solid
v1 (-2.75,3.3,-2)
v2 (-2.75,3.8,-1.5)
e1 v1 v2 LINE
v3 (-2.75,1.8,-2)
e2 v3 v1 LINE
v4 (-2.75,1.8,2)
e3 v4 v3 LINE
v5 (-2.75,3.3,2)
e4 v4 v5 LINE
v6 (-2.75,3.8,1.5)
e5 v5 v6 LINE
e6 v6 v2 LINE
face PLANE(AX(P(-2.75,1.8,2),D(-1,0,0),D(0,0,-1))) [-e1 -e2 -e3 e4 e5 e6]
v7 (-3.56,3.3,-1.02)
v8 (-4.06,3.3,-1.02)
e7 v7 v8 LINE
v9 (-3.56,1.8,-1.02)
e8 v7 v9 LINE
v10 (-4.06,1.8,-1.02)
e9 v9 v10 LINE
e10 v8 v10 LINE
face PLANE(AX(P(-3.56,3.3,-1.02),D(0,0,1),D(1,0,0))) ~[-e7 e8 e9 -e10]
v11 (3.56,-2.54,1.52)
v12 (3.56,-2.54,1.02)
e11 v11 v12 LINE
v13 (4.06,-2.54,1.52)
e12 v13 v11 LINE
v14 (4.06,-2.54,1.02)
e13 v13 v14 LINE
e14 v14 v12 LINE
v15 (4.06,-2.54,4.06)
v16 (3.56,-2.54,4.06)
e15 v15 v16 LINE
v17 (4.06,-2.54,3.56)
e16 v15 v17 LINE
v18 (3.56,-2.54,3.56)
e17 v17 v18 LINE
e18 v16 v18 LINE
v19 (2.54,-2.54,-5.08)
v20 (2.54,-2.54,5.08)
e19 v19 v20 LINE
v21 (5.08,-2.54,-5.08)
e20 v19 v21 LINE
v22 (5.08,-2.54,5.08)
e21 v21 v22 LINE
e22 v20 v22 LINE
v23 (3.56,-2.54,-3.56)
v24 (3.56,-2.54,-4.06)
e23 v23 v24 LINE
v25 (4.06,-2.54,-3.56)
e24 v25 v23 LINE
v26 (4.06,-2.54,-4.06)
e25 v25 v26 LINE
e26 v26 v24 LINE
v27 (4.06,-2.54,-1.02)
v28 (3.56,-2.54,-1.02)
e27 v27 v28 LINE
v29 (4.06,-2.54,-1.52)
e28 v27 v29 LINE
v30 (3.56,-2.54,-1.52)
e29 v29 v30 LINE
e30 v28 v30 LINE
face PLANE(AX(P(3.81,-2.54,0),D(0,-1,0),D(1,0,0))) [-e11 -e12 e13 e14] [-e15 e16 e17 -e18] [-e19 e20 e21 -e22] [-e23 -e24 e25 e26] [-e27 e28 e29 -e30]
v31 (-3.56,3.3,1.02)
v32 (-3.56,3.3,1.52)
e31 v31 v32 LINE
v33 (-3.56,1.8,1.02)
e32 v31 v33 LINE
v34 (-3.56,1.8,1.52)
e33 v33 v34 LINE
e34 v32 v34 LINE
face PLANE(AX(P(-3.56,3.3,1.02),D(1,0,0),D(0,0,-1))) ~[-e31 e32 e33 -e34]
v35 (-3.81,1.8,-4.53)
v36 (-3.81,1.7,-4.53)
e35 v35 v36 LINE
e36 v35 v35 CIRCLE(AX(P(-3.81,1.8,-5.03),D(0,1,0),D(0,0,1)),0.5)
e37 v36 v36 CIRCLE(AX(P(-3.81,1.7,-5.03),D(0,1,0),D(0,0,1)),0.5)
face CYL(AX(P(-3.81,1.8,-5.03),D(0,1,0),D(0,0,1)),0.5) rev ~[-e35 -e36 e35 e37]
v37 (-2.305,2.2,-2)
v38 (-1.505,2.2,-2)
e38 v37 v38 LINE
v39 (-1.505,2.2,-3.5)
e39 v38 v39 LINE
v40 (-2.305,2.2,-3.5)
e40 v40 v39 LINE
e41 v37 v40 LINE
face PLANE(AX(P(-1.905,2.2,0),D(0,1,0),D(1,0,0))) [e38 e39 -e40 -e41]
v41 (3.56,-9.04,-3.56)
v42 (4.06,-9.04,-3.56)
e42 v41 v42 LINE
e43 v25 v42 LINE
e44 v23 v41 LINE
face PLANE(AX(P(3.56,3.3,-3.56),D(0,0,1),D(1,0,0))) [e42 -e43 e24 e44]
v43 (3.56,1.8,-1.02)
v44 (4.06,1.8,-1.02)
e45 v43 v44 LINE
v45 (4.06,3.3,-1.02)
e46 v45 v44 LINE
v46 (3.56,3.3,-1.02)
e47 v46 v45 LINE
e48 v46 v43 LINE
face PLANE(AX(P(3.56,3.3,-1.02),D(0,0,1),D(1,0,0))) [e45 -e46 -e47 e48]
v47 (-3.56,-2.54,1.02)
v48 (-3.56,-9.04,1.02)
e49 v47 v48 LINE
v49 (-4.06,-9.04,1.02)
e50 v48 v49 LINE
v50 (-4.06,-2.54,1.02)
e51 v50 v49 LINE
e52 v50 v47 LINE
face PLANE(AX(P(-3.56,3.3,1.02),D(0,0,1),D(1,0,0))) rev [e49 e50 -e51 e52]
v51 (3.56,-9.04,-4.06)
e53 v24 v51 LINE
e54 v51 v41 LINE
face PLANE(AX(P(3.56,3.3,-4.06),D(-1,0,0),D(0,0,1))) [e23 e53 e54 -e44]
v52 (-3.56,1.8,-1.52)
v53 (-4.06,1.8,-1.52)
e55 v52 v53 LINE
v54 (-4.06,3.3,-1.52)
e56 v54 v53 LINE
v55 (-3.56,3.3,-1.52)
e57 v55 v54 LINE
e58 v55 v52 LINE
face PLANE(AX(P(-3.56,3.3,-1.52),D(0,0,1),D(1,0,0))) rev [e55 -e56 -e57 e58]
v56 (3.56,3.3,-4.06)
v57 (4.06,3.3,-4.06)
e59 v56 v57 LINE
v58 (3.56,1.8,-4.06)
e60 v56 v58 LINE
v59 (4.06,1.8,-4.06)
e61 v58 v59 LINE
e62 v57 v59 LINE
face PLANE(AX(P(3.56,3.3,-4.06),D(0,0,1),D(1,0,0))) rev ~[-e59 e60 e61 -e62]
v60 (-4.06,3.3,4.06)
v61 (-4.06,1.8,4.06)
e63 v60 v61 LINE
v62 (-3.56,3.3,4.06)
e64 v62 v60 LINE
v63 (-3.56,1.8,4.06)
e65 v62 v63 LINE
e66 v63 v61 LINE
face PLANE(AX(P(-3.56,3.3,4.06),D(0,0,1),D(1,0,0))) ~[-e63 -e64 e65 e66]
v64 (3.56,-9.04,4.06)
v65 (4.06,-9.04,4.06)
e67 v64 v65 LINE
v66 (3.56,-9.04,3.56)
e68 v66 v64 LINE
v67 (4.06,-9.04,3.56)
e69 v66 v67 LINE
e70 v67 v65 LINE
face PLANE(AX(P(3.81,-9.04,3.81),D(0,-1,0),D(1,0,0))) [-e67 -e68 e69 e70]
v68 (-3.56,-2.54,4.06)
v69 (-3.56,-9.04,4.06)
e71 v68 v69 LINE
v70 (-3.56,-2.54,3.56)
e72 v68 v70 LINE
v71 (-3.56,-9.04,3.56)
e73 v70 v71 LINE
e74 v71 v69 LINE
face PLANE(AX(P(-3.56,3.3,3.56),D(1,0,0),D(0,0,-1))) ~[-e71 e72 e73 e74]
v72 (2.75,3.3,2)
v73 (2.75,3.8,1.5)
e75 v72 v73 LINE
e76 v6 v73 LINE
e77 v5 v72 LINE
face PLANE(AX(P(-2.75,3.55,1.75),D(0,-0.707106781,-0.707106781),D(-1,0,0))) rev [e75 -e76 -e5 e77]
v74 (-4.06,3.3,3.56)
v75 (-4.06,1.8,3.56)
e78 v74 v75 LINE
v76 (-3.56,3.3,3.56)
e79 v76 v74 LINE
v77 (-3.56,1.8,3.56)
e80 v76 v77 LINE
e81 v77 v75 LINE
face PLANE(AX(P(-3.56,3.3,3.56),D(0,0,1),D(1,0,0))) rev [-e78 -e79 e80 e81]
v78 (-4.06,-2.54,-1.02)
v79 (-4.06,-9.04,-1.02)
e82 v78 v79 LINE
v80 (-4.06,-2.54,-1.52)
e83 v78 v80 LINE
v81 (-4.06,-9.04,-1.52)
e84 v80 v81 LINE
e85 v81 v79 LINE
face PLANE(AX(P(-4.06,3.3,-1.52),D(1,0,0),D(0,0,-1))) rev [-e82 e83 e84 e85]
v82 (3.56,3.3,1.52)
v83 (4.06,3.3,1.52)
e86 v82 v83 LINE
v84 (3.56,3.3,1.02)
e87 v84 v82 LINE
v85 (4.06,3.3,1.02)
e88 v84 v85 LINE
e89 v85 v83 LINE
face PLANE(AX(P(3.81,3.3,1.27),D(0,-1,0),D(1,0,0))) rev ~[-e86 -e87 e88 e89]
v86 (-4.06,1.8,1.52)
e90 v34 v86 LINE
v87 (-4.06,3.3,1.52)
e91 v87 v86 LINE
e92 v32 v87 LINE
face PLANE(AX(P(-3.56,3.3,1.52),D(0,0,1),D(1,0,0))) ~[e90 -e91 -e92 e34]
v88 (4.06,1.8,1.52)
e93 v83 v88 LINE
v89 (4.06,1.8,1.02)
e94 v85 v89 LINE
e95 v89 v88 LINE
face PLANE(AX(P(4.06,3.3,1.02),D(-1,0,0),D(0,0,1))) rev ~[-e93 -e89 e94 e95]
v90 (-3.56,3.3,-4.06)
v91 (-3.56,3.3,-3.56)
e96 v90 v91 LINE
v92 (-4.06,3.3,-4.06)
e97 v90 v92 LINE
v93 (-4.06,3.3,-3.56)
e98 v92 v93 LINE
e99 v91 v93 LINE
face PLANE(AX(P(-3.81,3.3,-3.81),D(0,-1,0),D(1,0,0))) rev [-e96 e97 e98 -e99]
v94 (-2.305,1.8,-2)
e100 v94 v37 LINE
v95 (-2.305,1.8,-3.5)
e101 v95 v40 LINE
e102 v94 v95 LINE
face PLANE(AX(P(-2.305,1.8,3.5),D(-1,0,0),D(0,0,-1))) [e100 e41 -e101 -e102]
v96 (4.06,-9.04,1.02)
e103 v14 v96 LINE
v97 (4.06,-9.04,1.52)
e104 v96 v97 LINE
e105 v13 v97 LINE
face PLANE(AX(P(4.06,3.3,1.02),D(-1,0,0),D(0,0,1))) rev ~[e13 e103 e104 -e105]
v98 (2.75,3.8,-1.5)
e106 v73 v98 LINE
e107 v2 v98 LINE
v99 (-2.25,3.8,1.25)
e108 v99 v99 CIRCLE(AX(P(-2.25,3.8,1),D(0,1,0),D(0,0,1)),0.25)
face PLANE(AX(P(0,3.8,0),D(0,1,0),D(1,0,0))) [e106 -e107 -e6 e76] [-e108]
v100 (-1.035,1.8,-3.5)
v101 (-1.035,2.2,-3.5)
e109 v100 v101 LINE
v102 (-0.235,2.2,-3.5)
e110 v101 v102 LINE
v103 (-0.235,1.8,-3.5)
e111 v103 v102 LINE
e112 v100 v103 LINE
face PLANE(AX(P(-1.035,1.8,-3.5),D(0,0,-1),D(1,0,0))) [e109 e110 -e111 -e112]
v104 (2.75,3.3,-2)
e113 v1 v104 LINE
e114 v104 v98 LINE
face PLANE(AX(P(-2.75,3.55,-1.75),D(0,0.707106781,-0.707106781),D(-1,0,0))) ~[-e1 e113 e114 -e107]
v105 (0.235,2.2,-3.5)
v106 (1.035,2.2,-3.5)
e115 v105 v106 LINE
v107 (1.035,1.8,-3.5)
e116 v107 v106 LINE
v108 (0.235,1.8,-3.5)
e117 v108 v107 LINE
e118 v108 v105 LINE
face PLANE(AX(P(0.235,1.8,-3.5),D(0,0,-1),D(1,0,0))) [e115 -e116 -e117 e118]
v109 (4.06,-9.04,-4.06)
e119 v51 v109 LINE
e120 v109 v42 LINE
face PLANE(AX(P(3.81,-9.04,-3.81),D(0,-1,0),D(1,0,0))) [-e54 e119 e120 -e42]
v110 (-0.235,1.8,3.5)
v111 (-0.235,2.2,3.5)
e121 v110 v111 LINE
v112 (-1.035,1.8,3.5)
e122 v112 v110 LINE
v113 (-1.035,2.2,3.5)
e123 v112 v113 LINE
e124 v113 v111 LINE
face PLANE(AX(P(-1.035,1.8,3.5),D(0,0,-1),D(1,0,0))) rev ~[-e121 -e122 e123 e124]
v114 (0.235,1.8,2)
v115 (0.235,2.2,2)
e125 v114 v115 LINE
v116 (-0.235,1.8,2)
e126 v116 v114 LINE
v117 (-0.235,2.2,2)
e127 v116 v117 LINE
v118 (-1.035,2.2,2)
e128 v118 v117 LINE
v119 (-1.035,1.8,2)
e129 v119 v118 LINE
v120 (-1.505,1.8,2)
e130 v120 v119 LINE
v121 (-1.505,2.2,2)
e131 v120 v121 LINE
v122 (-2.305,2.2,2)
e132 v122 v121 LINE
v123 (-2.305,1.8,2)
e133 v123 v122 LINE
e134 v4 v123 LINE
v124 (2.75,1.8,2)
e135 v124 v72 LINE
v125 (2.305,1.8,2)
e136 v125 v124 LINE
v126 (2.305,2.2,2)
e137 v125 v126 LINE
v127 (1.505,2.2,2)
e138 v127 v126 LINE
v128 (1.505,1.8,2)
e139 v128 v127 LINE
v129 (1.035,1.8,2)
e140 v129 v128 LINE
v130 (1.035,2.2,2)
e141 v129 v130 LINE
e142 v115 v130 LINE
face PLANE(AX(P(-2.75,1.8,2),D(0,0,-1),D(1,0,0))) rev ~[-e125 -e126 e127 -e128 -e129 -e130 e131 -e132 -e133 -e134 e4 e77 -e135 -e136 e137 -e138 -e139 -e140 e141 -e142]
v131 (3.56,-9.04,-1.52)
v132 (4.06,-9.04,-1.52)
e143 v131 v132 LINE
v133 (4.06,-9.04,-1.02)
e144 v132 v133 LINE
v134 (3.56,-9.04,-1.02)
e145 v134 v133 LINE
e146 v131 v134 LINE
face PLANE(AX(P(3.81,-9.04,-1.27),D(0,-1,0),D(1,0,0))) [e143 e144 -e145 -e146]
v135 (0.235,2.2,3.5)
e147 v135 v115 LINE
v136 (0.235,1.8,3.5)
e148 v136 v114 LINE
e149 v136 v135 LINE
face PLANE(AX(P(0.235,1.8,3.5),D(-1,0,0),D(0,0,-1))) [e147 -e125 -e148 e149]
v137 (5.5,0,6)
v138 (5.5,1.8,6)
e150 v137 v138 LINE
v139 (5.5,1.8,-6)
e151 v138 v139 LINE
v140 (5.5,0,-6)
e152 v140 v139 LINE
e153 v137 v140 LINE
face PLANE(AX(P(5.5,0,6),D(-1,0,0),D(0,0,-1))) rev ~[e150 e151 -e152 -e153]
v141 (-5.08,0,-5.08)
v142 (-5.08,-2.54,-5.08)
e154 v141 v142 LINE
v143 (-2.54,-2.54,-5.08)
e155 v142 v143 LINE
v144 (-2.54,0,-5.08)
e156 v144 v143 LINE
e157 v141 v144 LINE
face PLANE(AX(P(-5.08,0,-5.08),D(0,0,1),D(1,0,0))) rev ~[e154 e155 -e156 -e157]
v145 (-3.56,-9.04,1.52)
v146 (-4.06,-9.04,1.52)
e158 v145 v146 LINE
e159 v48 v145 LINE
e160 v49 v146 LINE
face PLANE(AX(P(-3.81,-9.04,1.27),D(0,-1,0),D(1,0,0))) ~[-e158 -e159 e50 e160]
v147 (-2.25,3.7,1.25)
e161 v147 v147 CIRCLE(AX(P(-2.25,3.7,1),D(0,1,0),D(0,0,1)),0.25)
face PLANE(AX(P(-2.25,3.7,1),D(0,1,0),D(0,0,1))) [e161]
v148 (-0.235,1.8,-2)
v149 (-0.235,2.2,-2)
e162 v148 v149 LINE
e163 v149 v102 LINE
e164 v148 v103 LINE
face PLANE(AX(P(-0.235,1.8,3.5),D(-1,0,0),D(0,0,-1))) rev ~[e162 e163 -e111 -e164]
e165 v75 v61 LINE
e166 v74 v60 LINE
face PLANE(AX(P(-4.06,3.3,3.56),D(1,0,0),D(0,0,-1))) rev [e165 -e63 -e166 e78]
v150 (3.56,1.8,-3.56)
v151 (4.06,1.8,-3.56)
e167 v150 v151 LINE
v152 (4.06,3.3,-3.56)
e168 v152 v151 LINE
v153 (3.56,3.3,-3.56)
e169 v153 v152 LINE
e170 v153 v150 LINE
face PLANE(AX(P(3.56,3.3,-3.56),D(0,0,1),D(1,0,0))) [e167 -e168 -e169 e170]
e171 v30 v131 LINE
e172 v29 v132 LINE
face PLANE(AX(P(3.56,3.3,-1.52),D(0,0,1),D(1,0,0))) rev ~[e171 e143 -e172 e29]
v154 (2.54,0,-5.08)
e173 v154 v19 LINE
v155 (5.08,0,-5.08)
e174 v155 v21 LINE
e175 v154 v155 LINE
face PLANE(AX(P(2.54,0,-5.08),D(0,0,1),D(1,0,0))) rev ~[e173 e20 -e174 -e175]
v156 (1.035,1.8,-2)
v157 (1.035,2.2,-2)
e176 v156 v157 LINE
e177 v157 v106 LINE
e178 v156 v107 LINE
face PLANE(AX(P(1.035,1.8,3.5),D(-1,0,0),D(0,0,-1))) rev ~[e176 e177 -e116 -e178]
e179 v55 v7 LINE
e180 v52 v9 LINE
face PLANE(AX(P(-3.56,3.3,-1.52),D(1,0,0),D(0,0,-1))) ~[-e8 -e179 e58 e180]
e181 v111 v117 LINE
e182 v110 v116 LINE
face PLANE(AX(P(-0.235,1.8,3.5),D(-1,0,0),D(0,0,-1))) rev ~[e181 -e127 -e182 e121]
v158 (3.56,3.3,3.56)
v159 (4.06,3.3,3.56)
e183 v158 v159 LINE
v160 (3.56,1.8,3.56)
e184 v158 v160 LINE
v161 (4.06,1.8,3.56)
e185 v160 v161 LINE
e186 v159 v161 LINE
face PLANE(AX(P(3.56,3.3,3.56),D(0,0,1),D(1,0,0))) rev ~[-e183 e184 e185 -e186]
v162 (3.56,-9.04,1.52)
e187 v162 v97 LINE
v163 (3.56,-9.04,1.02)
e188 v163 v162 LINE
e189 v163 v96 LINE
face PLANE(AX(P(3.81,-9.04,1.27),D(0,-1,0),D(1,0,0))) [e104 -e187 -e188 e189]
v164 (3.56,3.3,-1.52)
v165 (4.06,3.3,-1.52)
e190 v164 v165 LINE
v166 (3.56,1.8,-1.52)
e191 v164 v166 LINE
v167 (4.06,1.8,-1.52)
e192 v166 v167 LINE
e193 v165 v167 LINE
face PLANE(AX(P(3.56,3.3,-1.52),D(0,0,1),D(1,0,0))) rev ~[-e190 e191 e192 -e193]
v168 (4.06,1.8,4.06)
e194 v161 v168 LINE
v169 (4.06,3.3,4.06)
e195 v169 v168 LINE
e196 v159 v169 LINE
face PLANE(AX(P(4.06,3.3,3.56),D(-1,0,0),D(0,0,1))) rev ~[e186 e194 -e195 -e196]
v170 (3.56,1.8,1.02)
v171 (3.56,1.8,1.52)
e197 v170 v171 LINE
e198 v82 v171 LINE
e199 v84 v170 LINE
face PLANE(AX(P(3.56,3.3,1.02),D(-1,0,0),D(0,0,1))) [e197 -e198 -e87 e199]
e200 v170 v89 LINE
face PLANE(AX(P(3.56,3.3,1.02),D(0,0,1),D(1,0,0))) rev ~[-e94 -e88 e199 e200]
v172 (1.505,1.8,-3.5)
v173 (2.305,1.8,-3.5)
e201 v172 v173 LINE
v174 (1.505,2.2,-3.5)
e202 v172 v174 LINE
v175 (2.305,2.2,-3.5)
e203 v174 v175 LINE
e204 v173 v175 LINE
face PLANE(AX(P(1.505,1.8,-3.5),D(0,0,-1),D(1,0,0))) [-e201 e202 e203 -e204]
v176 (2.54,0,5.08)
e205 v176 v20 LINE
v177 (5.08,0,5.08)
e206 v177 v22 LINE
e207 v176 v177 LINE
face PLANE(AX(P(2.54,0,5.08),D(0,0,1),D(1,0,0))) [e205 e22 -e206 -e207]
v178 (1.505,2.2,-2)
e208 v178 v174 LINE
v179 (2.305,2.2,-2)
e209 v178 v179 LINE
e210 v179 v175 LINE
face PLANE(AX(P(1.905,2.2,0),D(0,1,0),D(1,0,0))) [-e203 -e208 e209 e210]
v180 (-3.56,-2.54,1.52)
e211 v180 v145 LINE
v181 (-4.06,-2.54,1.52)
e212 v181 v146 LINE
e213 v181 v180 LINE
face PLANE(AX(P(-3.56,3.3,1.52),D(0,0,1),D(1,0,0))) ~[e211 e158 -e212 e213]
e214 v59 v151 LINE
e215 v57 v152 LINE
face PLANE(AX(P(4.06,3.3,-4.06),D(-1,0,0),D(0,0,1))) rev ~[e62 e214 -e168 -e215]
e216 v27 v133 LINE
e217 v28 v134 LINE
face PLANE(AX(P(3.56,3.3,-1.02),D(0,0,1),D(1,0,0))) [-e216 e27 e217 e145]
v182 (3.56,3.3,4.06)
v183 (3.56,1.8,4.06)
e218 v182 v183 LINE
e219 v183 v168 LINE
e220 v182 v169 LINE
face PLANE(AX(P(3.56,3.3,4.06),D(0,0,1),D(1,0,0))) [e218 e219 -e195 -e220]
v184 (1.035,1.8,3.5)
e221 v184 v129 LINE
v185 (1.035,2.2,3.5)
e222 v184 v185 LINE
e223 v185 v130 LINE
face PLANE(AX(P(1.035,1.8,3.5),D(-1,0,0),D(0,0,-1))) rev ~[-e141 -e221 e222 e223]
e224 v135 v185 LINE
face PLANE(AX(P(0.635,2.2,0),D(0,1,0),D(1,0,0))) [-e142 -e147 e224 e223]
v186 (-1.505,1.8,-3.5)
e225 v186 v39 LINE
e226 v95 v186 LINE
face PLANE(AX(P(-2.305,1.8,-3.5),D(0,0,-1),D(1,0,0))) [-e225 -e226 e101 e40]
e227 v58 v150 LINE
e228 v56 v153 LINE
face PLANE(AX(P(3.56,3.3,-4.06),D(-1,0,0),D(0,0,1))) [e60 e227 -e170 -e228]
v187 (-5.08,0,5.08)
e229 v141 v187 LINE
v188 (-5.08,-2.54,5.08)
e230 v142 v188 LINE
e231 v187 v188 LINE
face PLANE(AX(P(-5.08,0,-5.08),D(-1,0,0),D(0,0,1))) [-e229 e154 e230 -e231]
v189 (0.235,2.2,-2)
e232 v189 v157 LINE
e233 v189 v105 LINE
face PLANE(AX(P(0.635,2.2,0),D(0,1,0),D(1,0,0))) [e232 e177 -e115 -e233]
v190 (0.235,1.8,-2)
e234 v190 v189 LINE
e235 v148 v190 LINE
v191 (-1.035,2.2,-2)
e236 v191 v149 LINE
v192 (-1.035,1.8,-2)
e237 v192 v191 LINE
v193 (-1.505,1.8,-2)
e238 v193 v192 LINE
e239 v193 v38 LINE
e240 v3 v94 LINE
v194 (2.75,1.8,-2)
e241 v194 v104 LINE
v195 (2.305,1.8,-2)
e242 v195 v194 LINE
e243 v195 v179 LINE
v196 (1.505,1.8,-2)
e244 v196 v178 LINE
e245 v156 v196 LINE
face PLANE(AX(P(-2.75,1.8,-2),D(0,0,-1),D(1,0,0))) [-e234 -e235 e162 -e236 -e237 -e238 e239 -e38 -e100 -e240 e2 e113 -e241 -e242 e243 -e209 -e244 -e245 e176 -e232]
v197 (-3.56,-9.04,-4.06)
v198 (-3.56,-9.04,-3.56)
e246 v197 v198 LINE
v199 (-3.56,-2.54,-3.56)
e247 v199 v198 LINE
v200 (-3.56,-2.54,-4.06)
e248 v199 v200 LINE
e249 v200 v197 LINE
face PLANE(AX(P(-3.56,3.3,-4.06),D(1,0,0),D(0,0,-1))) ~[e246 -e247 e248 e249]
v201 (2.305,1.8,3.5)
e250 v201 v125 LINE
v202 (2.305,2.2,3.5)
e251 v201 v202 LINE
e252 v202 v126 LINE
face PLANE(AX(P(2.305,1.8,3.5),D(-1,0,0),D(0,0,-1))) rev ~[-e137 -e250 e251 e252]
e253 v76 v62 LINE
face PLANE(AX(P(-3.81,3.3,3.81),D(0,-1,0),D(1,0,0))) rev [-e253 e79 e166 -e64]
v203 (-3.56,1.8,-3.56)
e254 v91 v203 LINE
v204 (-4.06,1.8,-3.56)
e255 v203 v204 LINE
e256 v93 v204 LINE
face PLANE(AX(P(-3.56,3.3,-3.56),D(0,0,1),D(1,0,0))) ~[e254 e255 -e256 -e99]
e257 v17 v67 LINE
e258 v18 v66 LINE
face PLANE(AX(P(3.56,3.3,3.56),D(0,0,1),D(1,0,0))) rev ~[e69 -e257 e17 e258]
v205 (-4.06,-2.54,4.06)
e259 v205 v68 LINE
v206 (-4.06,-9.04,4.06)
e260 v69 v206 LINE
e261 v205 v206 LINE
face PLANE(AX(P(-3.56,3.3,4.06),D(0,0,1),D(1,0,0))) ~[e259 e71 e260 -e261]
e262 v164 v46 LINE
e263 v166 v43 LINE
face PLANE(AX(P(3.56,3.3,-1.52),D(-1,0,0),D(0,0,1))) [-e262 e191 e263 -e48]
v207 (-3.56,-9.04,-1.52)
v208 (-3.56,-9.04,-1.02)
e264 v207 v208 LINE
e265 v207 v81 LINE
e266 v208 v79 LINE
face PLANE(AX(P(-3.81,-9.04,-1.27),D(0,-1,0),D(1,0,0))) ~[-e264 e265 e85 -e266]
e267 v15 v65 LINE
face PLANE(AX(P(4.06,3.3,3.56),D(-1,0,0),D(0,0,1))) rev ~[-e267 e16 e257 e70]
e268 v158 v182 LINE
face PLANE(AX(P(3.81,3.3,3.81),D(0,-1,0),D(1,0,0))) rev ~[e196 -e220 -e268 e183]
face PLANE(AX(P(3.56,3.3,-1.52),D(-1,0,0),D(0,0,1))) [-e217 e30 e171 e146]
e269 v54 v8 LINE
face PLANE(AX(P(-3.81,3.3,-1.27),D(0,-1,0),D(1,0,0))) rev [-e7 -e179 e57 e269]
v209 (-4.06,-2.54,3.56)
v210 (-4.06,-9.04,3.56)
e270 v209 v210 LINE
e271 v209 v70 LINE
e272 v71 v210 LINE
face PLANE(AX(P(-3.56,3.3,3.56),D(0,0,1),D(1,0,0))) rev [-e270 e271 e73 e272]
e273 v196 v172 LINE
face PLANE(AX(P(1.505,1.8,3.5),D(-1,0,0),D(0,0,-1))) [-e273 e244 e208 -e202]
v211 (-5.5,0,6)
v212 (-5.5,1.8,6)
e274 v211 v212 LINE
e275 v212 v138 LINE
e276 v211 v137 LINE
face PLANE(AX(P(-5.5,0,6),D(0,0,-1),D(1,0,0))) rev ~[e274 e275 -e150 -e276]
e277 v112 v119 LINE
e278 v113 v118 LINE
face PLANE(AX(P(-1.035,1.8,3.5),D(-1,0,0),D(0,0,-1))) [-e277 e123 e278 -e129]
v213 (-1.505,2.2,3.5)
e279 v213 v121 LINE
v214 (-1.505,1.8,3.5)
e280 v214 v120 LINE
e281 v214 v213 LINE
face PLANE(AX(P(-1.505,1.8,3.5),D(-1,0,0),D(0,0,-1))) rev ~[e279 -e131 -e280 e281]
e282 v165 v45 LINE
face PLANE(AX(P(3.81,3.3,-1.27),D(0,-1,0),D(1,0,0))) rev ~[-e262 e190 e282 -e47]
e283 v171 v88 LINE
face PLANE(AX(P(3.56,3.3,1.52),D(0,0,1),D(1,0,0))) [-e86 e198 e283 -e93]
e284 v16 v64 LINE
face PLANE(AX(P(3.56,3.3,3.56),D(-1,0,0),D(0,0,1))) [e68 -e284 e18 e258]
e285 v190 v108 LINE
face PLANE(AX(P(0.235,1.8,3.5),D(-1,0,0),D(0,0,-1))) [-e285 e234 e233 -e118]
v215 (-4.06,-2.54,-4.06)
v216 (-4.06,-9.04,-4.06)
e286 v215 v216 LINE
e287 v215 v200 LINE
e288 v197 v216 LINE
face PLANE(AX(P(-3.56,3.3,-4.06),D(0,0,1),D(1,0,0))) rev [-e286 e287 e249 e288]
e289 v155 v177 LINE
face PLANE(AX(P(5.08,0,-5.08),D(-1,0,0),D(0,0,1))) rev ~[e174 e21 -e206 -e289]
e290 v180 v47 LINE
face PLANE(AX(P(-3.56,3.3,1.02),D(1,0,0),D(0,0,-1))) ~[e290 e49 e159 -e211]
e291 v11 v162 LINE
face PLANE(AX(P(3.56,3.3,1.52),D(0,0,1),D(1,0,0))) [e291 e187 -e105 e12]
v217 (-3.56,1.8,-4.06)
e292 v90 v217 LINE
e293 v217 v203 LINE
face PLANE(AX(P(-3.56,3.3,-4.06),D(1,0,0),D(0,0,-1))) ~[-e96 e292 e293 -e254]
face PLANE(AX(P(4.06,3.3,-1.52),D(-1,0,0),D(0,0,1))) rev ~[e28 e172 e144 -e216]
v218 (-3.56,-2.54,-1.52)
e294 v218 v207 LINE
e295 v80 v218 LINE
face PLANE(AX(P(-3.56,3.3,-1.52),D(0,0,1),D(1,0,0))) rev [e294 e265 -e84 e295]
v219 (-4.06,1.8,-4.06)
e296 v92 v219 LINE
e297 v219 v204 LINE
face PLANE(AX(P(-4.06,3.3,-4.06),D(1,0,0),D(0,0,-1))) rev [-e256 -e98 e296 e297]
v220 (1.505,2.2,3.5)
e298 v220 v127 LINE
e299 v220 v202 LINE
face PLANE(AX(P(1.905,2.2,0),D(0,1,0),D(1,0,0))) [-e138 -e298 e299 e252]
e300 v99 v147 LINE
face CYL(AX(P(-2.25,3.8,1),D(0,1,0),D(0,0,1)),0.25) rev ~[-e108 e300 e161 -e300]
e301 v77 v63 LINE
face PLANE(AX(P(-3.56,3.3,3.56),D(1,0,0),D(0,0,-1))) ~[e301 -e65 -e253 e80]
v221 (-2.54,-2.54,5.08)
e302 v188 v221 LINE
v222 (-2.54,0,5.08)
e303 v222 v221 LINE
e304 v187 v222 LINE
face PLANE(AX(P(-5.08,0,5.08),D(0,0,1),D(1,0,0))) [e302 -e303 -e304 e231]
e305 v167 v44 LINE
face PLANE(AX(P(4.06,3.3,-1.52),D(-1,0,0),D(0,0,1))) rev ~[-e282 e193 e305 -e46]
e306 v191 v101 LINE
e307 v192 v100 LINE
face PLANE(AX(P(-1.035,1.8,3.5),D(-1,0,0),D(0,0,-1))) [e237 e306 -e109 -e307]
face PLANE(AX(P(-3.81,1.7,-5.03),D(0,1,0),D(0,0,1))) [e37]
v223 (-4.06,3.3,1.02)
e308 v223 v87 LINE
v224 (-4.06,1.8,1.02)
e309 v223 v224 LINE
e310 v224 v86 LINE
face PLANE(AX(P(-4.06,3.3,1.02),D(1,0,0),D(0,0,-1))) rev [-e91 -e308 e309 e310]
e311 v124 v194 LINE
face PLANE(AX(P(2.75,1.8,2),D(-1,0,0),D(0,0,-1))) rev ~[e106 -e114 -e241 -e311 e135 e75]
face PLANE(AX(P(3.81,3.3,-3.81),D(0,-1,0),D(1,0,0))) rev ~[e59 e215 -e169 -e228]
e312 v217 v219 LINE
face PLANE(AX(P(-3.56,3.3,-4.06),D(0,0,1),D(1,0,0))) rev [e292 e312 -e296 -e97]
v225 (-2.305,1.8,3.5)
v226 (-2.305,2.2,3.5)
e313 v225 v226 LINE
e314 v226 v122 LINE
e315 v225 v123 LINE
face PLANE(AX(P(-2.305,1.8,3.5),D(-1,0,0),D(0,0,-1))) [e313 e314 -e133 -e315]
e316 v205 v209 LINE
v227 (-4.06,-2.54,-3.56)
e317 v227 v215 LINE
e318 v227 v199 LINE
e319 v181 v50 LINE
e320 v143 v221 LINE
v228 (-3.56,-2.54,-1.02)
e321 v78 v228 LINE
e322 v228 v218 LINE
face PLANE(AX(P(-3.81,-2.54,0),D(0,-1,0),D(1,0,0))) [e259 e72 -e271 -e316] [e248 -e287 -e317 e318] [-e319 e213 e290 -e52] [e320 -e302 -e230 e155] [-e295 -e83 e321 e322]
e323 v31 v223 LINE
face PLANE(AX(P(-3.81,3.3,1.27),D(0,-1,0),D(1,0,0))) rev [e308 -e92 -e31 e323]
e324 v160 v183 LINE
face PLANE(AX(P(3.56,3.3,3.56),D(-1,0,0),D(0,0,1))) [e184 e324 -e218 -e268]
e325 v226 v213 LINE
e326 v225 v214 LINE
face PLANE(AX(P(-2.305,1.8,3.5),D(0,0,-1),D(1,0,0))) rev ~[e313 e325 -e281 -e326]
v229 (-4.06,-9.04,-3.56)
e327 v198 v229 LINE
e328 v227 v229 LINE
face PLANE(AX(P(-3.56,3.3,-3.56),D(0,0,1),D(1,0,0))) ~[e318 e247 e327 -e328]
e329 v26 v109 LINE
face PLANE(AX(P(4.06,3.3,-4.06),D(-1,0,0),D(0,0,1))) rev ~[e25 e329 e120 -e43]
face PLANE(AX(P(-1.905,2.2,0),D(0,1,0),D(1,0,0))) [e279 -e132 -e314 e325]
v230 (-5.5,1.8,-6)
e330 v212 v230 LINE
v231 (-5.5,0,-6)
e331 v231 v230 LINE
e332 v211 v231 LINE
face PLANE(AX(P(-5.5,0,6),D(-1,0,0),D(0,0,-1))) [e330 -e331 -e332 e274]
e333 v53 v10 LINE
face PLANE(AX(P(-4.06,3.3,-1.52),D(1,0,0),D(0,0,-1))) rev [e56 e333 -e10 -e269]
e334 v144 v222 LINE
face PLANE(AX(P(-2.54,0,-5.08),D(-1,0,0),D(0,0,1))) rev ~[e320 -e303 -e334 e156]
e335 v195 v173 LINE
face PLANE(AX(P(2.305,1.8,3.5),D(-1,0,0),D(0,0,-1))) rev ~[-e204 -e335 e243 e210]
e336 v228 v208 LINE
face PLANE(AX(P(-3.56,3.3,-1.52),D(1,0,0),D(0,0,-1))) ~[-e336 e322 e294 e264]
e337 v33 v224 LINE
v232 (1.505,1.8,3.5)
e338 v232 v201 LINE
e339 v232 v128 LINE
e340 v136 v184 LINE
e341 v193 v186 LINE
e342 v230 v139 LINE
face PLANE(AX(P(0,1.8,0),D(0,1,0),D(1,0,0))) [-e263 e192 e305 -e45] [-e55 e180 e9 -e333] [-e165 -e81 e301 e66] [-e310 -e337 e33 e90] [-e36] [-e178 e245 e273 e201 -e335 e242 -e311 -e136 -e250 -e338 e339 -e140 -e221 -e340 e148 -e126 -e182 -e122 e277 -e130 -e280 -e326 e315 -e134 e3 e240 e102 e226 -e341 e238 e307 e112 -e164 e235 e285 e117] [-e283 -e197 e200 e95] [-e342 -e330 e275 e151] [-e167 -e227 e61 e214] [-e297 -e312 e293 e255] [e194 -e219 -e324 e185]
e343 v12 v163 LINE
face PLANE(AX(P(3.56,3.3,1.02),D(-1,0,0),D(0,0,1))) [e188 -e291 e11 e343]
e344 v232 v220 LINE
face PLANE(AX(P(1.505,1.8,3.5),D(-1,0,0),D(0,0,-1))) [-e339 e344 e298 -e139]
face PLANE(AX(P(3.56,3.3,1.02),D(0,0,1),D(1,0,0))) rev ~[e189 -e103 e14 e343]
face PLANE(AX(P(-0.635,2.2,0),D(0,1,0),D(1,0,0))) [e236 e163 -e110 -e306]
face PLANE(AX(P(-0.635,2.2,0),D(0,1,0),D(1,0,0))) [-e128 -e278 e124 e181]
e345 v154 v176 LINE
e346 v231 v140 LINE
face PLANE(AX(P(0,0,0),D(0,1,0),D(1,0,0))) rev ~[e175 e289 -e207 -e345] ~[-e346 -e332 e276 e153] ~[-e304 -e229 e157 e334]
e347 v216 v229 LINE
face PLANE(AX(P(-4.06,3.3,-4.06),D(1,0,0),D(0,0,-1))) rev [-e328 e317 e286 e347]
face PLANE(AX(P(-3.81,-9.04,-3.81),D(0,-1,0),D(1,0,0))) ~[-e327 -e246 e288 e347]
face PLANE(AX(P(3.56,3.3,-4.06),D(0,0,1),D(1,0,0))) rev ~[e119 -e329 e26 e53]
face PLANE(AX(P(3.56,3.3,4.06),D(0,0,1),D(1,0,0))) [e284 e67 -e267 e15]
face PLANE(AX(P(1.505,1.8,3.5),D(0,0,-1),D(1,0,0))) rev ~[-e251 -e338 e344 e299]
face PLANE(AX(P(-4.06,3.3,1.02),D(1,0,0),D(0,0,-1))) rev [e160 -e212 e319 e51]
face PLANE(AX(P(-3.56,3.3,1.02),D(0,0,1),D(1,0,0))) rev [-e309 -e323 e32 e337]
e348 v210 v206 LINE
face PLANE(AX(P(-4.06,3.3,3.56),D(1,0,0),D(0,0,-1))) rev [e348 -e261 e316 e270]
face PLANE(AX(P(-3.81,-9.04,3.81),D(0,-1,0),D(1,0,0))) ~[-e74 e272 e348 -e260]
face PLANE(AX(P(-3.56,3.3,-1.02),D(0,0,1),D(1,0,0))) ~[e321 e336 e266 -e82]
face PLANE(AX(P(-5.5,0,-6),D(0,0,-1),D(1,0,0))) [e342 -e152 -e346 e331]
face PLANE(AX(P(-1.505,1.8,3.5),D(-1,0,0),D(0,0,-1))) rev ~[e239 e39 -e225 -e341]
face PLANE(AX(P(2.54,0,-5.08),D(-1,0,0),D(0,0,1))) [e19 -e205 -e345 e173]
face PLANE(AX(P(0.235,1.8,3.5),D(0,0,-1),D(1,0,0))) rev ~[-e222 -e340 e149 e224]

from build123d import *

# Parameters (mm, degrees)
SKETCH1_W           = 11
SKETCH1_H           = 12
BOSS_EXTRUDE1_DEPTH = 1.8
SKETCH2_W           = 2.54
SKETCH2_H           = 10.16
BOSS_EXTRUDE2_DEPTH = 2.54
BOSS_EXTRUDE3_START = -5.84
SKETCH3_W           = 0.5
SKETCH3_H           = 0.5
BOSS_EXTRUDE3_DEPTH = 12.34
SKETCH4_W           = 5.5
SKETCH4_H           = 4
BOSS_EXTRUDE4_DEPTH = 2
CHAMFER1_SIZE       = 0.5
SKETCH5_W           = 0.8
SKETCH5_H           = 7
BOSS_EXTRUDE5_DEPTH = 0.4
SKETCH6_R           = 0.5
CUT_EXTRUDE1_DEPTH  = 0.1
SKETCH7_R           = 0.25
CUT_EXTRUDE2_DEPTH  = 0.1


with BuildPart() as part:
    # Sketch1 → Boss-Extrude1 (new body)
    with BuildSketch(Plane(origin=(0, 0, 0), x_dir=(1, 0, 0), z_dir=(0, 1, 0))):
        Rectangle(SKETCH1_W, SKETCH1_H)
    extrude(amount=BOSS_EXTRUDE1_DEPTH)

    # Sketch2 → Boss-Extrude2 (add)
    with BuildSketch(Plane.XZ):
        with Locations((-3.81, 0)):
            Rectangle(SKETCH2_W, SKETCH2_H)
        with Locations((3.81, 0)):
            Rectangle(SKETCH2_W, SKETCH2_H)
    extrude(amount=BOSS_EXTRUDE2_DEPTH)

    # Sketch3 → Boss-Extrude3 (add)
    with BuildSketch(Plane.XZ.offset(2.54).offset(BOSS_EXTRUDE3_START)):
        with Locations((3.81, 1.27)):
            Rectangle(SKETCH3_W, SKETCH3_H)
        with Locations((3.81, 3.81)):
            Rectangle(SKETCH3_W, SKETCH3_H)
        with Locations((3.81, -1.27)):
            Rectangle(SKETCH3_W, SKETCH3_H)
        with Locations((3.81, -3.81)):
            Rectangle(SKETCH3_W, SKETCH3_H)
    boss_extrude3 = extrude(amount=BOSS_EXTRUDE3_DEPTH)

    # Mirror1: Boss-Extrude3 across plane
    add(boss_extrude3.mirror(Plane(origin=(0, 0, 0), x_dir=(0, 0, 1), z_dir=(1, 0, 0))))

    # Sketch4 → Boss-Extrude4 (add)
    with BuildSketch(Plane(origin=(0, 1.8, 0), x_dir=(1, 0, 0), z_dir=(0, 1, 0))):
        Rectangle(SKETCH4_W, SKETCH4_H)
    extrude(amount=BOSS_EXTRUDE4_DEPTH)

    # Chamfer1
    chamfer1_edges = [part.edges().sort_by_distance(p)[0] for p in [
        (0, 3.8, -2),
        (0, 3.8, 2),
    ]]
    chamfer(chamfer1_edges, length=CHAMFER1_SIZE)

    # Sketch5 → Boss-Extrude5 (add)
    with BuildSketch(Plane(origin=(0, 1.8, 0), x_dir=(1, 0, 0), z_dir=(0, 1, 0))):
        with Locations((-0.635, 0)):
            Rectangle(SKETCH5_W, SKETCH5_H)
        with Locations((-1.905, 0)):
            Rectangle(SKETCH5_W, SKETCH5_H)
        with Locations((0.635, 0)):
            Rectangle(SKETCH5_W, SKETCH5_H)
        with Locations((1.905, 0)):
            Rectangle(SKETCH5_W, SKETCH5_H)
    extrude(amount=BOSS_EXTRUDE5_DEPTH)

    # Sketch6 → Cut-Extrude1 (cut)
    with BuildSketch(Plane(origin=(0, 1.8, 0), x_dir=(1, 0, 0), z_dir=(0, 1, 0))):
        with Locations(Location((-3.81, 5.03, 0), (0, 0, 270))):
            Circle(SKETCH6_R)
    extrude(amount=-CUT_EXTRUDE1_DEPTH, mode=Mode.SUBTRACT)

    # Sketch7 → Cut-Extrude2 (cut)
    with BuildSketch(Plane(origin=(0, 3.8, 0), x_dir=(1, 0, 0), z_dir=(0, 1, 0))):
        with Locations(Location((-2.25, -1, 0), (0, 0, 270))):
            Circle(SKETCH7_R)
    extrude(amount=-CUT_EXTRUDE2_DEPTH, mode=Mode.SUBTRACT)


solid = part.part
